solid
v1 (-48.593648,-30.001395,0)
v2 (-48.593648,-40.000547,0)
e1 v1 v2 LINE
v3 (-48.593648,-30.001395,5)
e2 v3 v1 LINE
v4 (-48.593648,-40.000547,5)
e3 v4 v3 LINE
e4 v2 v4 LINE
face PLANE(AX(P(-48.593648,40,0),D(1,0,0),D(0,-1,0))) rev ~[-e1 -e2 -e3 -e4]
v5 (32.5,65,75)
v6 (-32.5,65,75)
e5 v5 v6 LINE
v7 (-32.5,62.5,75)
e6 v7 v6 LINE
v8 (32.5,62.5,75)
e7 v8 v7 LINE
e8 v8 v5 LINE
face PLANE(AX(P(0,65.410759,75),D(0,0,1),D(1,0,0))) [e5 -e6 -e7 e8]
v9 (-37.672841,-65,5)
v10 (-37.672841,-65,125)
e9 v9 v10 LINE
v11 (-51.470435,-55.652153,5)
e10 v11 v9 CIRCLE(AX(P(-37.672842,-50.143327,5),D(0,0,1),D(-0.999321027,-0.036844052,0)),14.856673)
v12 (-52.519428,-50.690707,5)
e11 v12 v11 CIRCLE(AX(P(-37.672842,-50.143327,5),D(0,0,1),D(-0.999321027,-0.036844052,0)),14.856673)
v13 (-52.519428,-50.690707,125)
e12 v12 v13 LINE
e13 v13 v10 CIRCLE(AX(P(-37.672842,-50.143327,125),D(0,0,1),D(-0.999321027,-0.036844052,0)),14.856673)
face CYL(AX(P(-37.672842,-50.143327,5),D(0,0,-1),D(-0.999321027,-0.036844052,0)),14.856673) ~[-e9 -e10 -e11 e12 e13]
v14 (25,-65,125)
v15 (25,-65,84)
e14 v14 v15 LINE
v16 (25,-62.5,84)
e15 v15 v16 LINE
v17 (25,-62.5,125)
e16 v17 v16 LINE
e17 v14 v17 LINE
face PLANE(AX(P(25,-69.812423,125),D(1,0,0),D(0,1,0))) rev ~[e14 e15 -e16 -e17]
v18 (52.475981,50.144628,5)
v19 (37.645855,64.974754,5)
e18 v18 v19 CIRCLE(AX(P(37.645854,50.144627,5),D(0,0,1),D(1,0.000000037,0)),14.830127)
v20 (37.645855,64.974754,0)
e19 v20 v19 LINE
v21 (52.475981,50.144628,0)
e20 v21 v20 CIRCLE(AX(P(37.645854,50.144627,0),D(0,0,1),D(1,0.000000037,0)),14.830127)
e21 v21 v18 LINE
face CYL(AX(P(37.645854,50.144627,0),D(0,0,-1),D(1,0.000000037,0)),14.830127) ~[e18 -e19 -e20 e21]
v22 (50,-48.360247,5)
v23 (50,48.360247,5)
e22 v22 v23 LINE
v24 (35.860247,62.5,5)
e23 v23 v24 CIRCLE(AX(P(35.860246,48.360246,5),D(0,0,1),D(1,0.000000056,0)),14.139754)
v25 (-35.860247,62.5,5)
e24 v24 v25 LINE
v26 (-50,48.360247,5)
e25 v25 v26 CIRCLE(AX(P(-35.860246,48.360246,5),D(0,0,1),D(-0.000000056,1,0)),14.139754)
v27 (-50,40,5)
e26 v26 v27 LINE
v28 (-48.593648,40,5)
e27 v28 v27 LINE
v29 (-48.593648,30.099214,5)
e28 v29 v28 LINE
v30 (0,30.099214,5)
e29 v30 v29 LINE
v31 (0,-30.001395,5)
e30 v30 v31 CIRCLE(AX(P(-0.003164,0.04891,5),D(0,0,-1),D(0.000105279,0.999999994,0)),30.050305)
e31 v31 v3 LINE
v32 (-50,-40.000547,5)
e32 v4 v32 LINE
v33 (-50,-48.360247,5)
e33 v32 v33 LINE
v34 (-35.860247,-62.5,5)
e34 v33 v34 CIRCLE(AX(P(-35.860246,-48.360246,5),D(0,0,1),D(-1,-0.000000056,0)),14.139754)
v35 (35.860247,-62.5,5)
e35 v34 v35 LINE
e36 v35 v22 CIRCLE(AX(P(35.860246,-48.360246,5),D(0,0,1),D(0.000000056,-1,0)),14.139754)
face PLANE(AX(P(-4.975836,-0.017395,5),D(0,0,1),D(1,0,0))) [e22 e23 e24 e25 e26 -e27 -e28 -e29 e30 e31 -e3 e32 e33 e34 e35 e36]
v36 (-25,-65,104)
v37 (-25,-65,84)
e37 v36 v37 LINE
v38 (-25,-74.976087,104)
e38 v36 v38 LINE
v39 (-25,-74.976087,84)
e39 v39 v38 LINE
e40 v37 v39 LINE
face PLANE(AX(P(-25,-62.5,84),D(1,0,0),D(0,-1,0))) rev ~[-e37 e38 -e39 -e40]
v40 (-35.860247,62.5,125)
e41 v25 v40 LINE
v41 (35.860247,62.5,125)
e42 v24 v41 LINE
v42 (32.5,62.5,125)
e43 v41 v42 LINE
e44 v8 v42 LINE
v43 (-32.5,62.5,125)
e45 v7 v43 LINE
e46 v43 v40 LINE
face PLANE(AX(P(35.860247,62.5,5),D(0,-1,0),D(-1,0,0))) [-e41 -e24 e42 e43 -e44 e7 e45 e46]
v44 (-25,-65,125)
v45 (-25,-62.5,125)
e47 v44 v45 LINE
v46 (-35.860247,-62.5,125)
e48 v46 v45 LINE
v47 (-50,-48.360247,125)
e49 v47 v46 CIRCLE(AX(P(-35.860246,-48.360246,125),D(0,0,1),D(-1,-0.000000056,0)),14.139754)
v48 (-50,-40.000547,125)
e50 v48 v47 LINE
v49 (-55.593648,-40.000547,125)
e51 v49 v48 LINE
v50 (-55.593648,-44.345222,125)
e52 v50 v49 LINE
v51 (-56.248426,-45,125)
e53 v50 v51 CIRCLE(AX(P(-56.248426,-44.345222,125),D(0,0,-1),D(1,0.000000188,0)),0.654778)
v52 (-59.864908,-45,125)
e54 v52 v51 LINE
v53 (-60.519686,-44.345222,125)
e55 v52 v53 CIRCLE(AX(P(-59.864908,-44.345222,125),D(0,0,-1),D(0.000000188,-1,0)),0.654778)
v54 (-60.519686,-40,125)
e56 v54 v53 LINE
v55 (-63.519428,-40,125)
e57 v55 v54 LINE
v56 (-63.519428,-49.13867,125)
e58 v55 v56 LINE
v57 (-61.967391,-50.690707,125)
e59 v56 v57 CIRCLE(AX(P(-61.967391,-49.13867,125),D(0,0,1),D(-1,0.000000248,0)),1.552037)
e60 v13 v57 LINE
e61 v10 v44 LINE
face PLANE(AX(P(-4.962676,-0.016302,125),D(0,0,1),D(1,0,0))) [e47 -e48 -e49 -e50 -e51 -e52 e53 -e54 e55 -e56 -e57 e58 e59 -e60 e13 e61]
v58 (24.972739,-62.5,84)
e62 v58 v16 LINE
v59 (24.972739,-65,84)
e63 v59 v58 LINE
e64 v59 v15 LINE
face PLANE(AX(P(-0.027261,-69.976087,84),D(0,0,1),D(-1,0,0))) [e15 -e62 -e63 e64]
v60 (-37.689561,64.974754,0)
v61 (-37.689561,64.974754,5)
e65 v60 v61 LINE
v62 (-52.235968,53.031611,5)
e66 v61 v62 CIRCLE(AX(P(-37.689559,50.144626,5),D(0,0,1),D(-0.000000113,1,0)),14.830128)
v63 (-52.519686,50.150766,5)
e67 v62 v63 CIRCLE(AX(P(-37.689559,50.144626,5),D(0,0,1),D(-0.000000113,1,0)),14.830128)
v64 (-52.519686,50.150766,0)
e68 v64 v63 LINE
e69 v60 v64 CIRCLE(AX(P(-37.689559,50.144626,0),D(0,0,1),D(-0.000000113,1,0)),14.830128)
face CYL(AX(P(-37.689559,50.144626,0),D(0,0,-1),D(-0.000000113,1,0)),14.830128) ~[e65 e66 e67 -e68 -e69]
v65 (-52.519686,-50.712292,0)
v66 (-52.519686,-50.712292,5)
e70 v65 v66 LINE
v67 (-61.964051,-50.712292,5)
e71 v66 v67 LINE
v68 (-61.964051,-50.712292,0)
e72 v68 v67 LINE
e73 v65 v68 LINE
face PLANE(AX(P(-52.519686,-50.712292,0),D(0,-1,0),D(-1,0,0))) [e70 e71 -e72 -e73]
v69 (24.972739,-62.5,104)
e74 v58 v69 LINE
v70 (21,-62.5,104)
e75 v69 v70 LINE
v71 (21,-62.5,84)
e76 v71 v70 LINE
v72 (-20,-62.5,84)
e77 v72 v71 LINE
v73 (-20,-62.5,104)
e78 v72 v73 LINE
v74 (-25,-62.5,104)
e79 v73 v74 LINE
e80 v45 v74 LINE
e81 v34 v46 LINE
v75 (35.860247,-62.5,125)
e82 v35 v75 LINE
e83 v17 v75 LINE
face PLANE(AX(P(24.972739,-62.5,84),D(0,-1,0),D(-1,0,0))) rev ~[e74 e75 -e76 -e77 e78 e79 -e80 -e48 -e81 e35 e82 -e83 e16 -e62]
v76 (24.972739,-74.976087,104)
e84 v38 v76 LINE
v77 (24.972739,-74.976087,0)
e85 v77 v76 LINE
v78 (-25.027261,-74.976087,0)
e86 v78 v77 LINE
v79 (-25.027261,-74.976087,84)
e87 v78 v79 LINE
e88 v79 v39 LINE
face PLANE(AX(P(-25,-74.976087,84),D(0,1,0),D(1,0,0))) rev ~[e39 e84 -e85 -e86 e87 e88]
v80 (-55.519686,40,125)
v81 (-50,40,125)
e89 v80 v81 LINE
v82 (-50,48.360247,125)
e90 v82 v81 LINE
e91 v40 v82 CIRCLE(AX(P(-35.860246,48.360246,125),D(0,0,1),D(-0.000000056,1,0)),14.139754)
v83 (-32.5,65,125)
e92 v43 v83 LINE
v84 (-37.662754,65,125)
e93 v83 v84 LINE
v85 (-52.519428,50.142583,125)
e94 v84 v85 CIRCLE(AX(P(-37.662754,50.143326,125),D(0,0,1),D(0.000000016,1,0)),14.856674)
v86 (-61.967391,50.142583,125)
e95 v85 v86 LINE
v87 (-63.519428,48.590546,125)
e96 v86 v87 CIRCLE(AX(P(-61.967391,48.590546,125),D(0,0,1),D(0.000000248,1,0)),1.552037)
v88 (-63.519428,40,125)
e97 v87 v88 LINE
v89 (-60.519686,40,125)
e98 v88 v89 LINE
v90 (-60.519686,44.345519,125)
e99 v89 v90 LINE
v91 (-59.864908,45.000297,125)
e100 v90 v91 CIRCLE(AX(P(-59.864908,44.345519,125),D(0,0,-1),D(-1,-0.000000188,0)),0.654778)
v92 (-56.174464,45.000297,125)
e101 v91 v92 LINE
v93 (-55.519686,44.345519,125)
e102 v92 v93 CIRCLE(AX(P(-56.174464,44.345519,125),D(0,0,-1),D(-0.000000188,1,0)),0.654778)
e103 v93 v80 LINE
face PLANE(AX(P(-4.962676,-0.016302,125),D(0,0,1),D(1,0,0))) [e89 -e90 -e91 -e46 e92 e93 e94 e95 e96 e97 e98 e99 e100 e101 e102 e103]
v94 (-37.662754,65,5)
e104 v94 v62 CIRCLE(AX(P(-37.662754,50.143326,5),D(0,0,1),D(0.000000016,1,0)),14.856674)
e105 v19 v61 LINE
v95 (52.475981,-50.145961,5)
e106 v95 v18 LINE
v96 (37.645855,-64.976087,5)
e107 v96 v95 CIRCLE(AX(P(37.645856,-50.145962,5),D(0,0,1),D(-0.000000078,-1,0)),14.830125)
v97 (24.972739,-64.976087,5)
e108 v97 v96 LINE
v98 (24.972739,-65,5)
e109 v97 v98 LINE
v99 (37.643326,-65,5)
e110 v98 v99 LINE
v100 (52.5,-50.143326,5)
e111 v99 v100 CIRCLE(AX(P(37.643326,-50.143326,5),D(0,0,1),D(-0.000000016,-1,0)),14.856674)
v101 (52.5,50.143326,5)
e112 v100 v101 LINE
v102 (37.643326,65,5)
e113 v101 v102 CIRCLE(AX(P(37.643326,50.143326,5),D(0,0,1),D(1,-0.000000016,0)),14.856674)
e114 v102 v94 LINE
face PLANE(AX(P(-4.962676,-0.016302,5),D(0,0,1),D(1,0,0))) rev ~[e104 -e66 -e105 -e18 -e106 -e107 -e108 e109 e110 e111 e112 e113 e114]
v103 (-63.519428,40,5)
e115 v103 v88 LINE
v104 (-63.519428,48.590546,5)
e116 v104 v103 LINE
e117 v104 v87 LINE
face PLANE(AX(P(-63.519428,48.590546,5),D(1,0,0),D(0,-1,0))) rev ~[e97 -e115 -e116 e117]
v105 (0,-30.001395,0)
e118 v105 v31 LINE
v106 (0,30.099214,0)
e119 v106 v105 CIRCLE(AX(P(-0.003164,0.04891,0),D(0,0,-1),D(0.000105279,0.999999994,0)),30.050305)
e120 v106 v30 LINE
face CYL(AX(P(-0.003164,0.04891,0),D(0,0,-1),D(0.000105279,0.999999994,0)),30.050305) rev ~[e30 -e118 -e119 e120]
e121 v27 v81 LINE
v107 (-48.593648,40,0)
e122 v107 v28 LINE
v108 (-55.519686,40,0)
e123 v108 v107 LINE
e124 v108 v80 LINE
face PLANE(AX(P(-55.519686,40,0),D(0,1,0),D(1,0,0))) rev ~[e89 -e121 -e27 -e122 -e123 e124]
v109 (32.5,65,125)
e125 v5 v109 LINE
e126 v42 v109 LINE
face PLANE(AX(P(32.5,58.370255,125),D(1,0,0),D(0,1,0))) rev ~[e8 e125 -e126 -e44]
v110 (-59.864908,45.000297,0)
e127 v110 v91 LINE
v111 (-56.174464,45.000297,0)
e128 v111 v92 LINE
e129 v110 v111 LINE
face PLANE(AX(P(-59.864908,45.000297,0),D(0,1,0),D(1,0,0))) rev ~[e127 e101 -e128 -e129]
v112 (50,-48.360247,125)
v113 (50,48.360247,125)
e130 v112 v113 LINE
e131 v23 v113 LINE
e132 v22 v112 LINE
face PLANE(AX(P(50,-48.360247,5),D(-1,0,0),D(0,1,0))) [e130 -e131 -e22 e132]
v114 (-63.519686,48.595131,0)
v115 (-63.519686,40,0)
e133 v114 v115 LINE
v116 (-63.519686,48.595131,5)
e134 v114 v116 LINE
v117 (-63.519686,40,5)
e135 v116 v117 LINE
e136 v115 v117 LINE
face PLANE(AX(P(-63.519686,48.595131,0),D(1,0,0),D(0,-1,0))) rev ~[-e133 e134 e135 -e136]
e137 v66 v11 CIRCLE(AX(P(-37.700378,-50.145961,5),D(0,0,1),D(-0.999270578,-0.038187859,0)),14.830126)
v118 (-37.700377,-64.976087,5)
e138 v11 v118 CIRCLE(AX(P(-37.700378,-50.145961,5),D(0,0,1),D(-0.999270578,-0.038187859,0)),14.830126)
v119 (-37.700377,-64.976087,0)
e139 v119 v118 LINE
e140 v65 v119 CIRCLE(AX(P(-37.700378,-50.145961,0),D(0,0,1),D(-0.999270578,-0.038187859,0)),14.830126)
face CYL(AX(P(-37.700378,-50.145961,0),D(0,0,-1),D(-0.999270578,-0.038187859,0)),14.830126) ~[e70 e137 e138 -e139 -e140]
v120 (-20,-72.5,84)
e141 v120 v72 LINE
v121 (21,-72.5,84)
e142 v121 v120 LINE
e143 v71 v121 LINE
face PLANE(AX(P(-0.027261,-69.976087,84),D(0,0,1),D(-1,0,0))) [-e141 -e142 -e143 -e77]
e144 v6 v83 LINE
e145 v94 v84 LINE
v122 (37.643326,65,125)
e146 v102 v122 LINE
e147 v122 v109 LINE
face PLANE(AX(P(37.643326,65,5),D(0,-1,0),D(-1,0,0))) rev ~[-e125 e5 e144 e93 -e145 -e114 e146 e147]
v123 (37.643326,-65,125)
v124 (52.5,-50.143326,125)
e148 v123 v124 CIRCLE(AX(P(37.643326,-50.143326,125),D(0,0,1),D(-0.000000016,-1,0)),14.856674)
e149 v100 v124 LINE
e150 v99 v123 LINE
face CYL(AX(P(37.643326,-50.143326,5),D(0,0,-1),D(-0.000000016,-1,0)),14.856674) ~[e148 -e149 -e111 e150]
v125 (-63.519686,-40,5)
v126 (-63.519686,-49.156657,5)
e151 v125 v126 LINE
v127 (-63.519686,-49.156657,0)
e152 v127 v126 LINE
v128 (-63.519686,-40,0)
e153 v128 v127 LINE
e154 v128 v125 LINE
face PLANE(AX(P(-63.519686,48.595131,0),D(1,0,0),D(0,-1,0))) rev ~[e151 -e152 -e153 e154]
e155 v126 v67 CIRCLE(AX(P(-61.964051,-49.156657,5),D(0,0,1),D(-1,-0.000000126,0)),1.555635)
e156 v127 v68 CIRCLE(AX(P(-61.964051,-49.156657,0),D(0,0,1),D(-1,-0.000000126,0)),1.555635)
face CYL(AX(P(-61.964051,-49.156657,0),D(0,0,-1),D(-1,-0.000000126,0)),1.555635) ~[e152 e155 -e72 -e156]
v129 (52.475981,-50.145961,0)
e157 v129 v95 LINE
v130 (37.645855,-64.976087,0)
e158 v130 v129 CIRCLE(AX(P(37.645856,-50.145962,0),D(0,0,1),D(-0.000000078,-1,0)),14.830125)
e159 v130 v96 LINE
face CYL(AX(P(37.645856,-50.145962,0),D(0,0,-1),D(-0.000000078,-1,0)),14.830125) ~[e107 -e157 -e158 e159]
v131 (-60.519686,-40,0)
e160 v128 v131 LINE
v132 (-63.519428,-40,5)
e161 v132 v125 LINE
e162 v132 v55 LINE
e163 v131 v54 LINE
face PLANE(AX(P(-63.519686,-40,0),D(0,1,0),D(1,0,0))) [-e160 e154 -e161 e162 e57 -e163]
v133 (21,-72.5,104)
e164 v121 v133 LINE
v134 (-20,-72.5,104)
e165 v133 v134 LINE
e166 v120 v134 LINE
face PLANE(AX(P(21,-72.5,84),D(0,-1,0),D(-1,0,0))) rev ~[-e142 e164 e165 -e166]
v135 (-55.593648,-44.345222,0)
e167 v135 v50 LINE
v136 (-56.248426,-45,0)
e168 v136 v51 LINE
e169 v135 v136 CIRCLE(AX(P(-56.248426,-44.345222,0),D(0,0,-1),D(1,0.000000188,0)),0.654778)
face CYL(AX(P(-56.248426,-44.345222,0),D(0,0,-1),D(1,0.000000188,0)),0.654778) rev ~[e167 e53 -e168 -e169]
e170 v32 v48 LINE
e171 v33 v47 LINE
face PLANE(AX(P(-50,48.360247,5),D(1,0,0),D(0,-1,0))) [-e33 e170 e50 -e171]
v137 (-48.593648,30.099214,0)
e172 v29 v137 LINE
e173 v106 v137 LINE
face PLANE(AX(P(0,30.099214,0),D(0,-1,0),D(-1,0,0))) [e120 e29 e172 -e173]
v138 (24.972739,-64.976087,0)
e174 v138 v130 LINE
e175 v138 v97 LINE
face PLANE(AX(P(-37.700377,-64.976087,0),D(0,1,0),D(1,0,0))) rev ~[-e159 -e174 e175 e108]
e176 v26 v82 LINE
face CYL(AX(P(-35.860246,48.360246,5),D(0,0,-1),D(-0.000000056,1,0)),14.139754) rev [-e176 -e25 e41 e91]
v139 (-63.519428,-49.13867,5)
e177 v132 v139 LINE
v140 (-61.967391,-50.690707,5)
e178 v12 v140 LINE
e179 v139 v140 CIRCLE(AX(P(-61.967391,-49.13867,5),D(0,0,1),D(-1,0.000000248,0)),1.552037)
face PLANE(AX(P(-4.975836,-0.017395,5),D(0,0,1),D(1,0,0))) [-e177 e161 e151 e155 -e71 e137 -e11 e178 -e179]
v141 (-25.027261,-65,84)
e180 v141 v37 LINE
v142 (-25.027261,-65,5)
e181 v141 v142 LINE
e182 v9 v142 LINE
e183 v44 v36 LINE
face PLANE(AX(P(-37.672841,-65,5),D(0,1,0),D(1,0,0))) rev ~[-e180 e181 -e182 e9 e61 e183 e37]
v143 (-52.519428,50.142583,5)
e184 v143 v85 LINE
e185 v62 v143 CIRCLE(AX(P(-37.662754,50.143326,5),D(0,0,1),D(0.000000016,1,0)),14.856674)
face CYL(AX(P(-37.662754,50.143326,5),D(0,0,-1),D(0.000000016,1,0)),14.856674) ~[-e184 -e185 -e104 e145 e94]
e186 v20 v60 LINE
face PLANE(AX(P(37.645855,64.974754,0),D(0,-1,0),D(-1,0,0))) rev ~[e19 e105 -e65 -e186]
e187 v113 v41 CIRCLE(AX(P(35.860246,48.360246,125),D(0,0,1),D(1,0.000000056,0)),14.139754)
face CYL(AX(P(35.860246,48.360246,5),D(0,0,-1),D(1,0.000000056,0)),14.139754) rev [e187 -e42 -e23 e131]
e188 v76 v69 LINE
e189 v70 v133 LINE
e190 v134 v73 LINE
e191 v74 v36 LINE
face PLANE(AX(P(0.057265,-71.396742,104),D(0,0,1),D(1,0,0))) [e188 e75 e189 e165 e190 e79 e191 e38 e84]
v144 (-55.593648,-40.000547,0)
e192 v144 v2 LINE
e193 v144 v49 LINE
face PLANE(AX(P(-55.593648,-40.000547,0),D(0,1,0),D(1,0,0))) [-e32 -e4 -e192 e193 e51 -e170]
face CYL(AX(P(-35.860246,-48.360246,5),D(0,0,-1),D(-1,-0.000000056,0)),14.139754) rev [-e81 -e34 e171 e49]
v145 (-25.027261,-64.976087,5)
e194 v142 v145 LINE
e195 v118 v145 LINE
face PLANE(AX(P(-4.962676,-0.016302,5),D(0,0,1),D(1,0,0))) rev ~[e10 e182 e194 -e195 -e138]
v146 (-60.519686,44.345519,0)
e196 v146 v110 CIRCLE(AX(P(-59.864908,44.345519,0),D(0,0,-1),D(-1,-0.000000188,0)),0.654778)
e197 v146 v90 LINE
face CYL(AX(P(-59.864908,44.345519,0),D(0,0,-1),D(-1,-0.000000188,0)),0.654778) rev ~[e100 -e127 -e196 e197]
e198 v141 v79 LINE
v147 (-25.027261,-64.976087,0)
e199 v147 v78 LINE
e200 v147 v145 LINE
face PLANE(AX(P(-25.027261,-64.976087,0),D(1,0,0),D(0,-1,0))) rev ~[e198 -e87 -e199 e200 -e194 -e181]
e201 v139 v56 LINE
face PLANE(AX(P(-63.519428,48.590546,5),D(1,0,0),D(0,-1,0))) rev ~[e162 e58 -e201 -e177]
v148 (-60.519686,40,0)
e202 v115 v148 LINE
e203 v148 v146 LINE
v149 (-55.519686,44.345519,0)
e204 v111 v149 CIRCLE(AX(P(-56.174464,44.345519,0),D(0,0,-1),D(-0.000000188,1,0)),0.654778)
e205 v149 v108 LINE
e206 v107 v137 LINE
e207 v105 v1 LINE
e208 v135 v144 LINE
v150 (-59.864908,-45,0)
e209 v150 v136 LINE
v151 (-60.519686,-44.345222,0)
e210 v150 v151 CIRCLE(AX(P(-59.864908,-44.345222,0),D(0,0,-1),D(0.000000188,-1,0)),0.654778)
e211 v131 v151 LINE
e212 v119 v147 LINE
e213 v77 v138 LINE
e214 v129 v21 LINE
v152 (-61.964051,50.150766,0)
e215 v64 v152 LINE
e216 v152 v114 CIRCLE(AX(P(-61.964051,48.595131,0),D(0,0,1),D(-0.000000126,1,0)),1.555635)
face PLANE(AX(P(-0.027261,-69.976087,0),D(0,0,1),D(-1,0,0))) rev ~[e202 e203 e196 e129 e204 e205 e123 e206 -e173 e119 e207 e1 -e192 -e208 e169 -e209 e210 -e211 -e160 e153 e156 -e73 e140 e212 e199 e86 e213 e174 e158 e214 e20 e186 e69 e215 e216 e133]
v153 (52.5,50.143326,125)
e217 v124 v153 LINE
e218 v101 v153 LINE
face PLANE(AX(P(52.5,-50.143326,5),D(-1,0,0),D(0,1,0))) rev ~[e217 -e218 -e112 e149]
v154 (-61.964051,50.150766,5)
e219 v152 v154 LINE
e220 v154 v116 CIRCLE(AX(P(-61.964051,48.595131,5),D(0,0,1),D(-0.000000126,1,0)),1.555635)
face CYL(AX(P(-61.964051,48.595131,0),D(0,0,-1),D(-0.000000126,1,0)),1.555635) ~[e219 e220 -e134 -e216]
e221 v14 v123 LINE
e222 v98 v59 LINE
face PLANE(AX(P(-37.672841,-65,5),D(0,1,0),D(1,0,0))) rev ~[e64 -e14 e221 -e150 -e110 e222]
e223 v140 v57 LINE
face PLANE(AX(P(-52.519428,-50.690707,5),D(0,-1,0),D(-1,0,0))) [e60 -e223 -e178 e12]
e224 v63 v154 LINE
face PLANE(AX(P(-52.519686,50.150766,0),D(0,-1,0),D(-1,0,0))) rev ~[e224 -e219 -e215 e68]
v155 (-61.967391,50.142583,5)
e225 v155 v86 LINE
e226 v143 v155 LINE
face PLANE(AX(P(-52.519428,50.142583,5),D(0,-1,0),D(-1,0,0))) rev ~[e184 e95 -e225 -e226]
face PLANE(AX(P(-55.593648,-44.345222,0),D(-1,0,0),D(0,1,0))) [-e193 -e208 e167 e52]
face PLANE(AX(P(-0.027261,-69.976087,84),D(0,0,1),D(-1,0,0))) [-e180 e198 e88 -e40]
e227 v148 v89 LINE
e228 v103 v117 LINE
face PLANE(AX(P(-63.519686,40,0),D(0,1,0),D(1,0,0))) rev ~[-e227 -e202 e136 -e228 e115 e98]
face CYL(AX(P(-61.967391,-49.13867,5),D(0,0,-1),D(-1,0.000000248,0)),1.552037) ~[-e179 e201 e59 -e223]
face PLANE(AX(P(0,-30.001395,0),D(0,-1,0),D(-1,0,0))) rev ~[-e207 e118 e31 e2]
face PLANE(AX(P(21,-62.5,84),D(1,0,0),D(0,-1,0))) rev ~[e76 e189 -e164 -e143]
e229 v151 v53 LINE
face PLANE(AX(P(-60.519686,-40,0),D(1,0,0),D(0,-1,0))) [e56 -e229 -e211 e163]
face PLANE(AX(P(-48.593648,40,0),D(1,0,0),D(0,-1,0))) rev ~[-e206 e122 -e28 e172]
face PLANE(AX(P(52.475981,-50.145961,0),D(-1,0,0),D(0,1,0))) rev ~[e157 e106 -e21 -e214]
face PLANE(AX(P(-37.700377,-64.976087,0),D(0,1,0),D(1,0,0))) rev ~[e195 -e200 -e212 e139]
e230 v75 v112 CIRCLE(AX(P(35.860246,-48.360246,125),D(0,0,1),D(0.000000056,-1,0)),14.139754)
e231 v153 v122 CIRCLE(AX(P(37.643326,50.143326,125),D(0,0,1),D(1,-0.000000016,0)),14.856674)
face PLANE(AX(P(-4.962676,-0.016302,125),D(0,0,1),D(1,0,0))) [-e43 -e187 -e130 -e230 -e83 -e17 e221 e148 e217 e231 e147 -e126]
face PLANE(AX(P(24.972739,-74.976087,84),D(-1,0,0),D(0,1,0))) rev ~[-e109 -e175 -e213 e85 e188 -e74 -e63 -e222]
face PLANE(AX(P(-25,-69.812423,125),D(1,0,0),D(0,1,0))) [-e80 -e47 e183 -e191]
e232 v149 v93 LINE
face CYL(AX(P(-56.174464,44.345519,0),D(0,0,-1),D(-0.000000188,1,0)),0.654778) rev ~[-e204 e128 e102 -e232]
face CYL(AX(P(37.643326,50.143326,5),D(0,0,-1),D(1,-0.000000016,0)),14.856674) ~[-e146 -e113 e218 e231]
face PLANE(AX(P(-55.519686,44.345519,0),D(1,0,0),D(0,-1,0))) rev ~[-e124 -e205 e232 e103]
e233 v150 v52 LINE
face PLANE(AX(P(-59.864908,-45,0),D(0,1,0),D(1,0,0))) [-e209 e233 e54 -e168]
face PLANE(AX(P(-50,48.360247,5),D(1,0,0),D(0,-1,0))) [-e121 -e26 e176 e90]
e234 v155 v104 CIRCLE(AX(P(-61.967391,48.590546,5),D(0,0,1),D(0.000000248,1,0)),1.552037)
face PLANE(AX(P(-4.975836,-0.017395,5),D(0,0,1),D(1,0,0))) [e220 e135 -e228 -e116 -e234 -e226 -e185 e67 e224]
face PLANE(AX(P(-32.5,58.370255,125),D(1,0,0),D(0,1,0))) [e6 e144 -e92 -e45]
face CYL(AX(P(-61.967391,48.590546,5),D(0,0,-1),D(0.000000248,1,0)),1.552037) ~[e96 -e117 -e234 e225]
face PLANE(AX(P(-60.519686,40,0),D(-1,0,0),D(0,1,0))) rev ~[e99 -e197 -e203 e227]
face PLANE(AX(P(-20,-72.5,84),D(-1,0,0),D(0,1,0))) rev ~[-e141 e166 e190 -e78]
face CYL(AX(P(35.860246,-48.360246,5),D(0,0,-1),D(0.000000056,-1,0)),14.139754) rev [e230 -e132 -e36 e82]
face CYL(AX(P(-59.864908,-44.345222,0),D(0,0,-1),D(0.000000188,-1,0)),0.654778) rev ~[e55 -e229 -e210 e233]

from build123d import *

# Parameters (mm, degrees)
PAD_DEPTH       = 5
PAD001_DEPTH    = 120
POCKET_DEPTH    = 125
POCKET001_DEPTH = 5
SKETCH005_W     = 65
SKETCH005_H     = 14.081008
POCKET002_DEPTH = 50
SKETCH006_W     = 50
SKETCH006_H     = 12.788605
POCKET003_DEPTH = 41
PAD003_DEPTH    = 84
PAD004_DEPTH    = 20


with BuildPart() as part:
    # Sketch → Pad (new body)
    with BuildSketch(Plane.XY):
        with BuildLine():
            Line((-37.700377, -64.976087), (37.645855, -64.976087))
            ThreePointArc((37.645855, -64.976087), (48.132338, -60.632444), (52.475981, -50.145961))
            Line((52.475981, -50.145961), (52.475981, 50.144628))
            ThreePointArc((52.475981, 50.144628), (48.132338, 60.63111), (37.645855, 64.974754))
            Line((37.645855, 64.974754), (-37.689561, 64.974754))
            ThreePointArc((-37.689561, 64.974754), (-48.173873, 60.63328), (-52.519686, 50.150766))
            Line((-52.519686, 50.150766), (-61.964051, 50.150766))
            ThreePointArc((-61.964051, 50.150766), (-63.064051, 49.695131), (-63.519686, 48.595131))
            Line((-63.519686, 48.595131), (-63.519686, -49.156657))
            ThreePointArc((-63.519686, -49.156657), (-63.064051, -50.256657), (-61.964051, -50.712292))
            Line((-52.519686, -50.712292), (-61.964051, -50.712292))
            ThreePointArc((-52.519686, -50.712292), (-47.984683, -60.830796), (-37.700377, -64.976087))
        make_face()
    extrude(amount=PAD_DEPTH)

    # Sketch001 (on Face14 of Pad) → Pad001 (join)
    with BuildSketch(Plane.XY.offset(5)):
        with BuildLine():
            Line((-37.672841, -65), (37.643326, -65))
            ThreePointArc((37.643326, -65), (48.148581, -60.648581), (52.5, -50.143326))
            Line((52.5, -50.143326), (52.5, 50.143326))
            ThreePointArc((52.5, 50.143326), (48.148581, 60.648581), (37.643326, 65))
            Line((37.643326, 65), (-37.662754, 65))
            ThreePointArc((-37.662754, 65), (-48.168272, 60.648318), (-52.519428, 50.142583))
            Line((-52.519428, 50.142583), (-61.967391, 50.142583))
            ThreePointArc((-61.967391, 50.142583), (-63.064847, 49.688002), (-63.519428, 48.590546))
            Line((-63.519428, 48.590546), (-63.519428, -49.13867))
            ThreePointArc((-63.519428, -49.13867), (-63.064847, -50.236126), (-61.967391, -50.690707))
            Line((-52.519428, -50.690707), (-61.967391, -50.690707))
            ThreePointArc((-52.519428, -50.690707), (-47.982752, -60.840359), (-37.672841, -65))
        make_face()
        with BuildLine():
            Line((-35.860247, -62.5), (35.860247, -62.5))
            ThreePointArc((35.860247, -62.5), (45.858562, -58.358562), (50, -48.360247))
            Line((50, -48.360247), (50, 48.360247))
            ThreePointArc((50, 48.360247), (45.858562, 58.358562), (35.860247, 62.5))
            Line((35.860247, 62.5), (-35.860247, 62.5))
            ThreePointArc((-35.860247, 62.5), (-45.858562, 58.358562), (-50, 48.360247))
            Line((-50, 48.360247), (-50, -48.360247))
            ThreePointArc((-50, -48.360247), (-45.858562, -58.358562), (-35.860247, -62.5))
        make_face(mode=Mode.SUBTRACT)
    extrude(amount=PAD001_DEPTH)

    # Sketch002 (on Face4 of Pad001) → Pocket (cut)
    with BuildSketch(Plane(origin=(0, 0, 0), x_dir=(1, 0, 0), z_dir=(0, 0, -1))):
        with BuildLine():
            Line((-63.519686, 40), (-63.519686, -40))
            Line((-63.519686, -40), (-60.519686, -40))
            Line((-60.519686, -40), (-60.519686, -44.345519))
            ThreePointArc((-60.519686, -44.345519), (-60.327906, -44.808517), (-59.864908, -45.000297))
            Line((-59.864908, -45.000297), (-56.174464, -45.000297))
            ThreePointArc((-56.174464, -45.000297), (-55.711466, -44.808517), (-55.519686, -44.345519))
            Line((-55.519686, -44.345519), (-55.519686, -40))
            Line((-55.519686, -40), (-48.593648, -40))
            Line((-48.593648, -40), (-48.593648, 40.000547))
            Line((-55.593648, 40.000547), (-48.593648, 40.000547))
            Line((-55.593648, 44.345222), (-55.593648, 40.000547))
            ThreePointArc((-55.593648, 44.345222), (-55.785428, 44.80822), (-56.248426, 45))
            Line((-59.864908, 45), (-56.248426, 45))
            ThreePointArc((-59.864908, 45), (-60.327906, 44.80822), (-60.519686, 44.345222))
            Line((-60.519686, 40), (-60.519686, 44.345222))
            Line((-63.519686, 40), (-60.519686, 40))
        make_face()
    extrude(amount=-POCKET_DEPTH, mode=Mode.SUBTRACT)

    # Sketch003 (on Face4 of Pocket) → Pocket001 (cut)
    with BuildSketch(Plane(origin=(0, 0, 0), x_dir=(1, 0, 0), z_dir=(0, 0, -1))):
        with BuildLine():
            ThreePointArc((0, -30.099214), (30.047141, -0.048909), (0, 30.001395))
            Line((0, 30.001395), (-50, 30.001395))
            Line((-50, -30.099214), (-50, 30.001395))
            Line((0, -30.099214), (-50, -30.099214))
        make_face()
    extrude(amount=-POCKET001_DEPTH, mode=Mode.SUBTRACT)

    # Sketch005 (on Face46 of Pocket001) → Pocket002 (cut)
    with BuildSketch(Plane.XY.offset(125)):
        with Locations((0, 65.410759)):
            Rectangle(SKETCH005_W, SKETCH005_H)
    extrude(amount=-POCKET002_DEPTH, mode=Mode.SUBTRACT)

    # Sketch006 (on Face46 of Pocket002) → Pocket003 (cut)
    with BuildSketch(Plane.XY.offset(125)):
        with Locations((0, -63.418121)):
            Rectangle(SKETCH006_W, SKETCH006_H)
    extrude(amount=-POCKET003_DEPTH, mode=Mode.SUBTRACT)

    # Sketch007 (on Face4 of Pocket003) → Pad003 (join)
    with BuildSketch(Plane(origin=(0, 0, 0), x_dir=(1, 0, 0), z_dir=(0, 0, -1))):
        Polygon((-0.027261, 64.976087), (-25.027261, 64.976087), (-25.027261, 74.976087), (24.972739, 74.976087), (24.972739, 64.976087), align=None)
    extrude(amount=-PAD003_DEPTH)

    # Sketch009 (on Face73 of Pad003) → Pad004 (join)
    with BuildSketch(Plane.XY.offset(84)):
        Polygon((-25, -62.5), (-25, -74.976087), (24.972739, -74.976087), (24.972739, -62.5), (21, -62.5), (21, -72.5), (-20, -72.5), (-20, -62.5), align=None)
    extrude(amount=PAD004_DEPTH)


solid = part.part
